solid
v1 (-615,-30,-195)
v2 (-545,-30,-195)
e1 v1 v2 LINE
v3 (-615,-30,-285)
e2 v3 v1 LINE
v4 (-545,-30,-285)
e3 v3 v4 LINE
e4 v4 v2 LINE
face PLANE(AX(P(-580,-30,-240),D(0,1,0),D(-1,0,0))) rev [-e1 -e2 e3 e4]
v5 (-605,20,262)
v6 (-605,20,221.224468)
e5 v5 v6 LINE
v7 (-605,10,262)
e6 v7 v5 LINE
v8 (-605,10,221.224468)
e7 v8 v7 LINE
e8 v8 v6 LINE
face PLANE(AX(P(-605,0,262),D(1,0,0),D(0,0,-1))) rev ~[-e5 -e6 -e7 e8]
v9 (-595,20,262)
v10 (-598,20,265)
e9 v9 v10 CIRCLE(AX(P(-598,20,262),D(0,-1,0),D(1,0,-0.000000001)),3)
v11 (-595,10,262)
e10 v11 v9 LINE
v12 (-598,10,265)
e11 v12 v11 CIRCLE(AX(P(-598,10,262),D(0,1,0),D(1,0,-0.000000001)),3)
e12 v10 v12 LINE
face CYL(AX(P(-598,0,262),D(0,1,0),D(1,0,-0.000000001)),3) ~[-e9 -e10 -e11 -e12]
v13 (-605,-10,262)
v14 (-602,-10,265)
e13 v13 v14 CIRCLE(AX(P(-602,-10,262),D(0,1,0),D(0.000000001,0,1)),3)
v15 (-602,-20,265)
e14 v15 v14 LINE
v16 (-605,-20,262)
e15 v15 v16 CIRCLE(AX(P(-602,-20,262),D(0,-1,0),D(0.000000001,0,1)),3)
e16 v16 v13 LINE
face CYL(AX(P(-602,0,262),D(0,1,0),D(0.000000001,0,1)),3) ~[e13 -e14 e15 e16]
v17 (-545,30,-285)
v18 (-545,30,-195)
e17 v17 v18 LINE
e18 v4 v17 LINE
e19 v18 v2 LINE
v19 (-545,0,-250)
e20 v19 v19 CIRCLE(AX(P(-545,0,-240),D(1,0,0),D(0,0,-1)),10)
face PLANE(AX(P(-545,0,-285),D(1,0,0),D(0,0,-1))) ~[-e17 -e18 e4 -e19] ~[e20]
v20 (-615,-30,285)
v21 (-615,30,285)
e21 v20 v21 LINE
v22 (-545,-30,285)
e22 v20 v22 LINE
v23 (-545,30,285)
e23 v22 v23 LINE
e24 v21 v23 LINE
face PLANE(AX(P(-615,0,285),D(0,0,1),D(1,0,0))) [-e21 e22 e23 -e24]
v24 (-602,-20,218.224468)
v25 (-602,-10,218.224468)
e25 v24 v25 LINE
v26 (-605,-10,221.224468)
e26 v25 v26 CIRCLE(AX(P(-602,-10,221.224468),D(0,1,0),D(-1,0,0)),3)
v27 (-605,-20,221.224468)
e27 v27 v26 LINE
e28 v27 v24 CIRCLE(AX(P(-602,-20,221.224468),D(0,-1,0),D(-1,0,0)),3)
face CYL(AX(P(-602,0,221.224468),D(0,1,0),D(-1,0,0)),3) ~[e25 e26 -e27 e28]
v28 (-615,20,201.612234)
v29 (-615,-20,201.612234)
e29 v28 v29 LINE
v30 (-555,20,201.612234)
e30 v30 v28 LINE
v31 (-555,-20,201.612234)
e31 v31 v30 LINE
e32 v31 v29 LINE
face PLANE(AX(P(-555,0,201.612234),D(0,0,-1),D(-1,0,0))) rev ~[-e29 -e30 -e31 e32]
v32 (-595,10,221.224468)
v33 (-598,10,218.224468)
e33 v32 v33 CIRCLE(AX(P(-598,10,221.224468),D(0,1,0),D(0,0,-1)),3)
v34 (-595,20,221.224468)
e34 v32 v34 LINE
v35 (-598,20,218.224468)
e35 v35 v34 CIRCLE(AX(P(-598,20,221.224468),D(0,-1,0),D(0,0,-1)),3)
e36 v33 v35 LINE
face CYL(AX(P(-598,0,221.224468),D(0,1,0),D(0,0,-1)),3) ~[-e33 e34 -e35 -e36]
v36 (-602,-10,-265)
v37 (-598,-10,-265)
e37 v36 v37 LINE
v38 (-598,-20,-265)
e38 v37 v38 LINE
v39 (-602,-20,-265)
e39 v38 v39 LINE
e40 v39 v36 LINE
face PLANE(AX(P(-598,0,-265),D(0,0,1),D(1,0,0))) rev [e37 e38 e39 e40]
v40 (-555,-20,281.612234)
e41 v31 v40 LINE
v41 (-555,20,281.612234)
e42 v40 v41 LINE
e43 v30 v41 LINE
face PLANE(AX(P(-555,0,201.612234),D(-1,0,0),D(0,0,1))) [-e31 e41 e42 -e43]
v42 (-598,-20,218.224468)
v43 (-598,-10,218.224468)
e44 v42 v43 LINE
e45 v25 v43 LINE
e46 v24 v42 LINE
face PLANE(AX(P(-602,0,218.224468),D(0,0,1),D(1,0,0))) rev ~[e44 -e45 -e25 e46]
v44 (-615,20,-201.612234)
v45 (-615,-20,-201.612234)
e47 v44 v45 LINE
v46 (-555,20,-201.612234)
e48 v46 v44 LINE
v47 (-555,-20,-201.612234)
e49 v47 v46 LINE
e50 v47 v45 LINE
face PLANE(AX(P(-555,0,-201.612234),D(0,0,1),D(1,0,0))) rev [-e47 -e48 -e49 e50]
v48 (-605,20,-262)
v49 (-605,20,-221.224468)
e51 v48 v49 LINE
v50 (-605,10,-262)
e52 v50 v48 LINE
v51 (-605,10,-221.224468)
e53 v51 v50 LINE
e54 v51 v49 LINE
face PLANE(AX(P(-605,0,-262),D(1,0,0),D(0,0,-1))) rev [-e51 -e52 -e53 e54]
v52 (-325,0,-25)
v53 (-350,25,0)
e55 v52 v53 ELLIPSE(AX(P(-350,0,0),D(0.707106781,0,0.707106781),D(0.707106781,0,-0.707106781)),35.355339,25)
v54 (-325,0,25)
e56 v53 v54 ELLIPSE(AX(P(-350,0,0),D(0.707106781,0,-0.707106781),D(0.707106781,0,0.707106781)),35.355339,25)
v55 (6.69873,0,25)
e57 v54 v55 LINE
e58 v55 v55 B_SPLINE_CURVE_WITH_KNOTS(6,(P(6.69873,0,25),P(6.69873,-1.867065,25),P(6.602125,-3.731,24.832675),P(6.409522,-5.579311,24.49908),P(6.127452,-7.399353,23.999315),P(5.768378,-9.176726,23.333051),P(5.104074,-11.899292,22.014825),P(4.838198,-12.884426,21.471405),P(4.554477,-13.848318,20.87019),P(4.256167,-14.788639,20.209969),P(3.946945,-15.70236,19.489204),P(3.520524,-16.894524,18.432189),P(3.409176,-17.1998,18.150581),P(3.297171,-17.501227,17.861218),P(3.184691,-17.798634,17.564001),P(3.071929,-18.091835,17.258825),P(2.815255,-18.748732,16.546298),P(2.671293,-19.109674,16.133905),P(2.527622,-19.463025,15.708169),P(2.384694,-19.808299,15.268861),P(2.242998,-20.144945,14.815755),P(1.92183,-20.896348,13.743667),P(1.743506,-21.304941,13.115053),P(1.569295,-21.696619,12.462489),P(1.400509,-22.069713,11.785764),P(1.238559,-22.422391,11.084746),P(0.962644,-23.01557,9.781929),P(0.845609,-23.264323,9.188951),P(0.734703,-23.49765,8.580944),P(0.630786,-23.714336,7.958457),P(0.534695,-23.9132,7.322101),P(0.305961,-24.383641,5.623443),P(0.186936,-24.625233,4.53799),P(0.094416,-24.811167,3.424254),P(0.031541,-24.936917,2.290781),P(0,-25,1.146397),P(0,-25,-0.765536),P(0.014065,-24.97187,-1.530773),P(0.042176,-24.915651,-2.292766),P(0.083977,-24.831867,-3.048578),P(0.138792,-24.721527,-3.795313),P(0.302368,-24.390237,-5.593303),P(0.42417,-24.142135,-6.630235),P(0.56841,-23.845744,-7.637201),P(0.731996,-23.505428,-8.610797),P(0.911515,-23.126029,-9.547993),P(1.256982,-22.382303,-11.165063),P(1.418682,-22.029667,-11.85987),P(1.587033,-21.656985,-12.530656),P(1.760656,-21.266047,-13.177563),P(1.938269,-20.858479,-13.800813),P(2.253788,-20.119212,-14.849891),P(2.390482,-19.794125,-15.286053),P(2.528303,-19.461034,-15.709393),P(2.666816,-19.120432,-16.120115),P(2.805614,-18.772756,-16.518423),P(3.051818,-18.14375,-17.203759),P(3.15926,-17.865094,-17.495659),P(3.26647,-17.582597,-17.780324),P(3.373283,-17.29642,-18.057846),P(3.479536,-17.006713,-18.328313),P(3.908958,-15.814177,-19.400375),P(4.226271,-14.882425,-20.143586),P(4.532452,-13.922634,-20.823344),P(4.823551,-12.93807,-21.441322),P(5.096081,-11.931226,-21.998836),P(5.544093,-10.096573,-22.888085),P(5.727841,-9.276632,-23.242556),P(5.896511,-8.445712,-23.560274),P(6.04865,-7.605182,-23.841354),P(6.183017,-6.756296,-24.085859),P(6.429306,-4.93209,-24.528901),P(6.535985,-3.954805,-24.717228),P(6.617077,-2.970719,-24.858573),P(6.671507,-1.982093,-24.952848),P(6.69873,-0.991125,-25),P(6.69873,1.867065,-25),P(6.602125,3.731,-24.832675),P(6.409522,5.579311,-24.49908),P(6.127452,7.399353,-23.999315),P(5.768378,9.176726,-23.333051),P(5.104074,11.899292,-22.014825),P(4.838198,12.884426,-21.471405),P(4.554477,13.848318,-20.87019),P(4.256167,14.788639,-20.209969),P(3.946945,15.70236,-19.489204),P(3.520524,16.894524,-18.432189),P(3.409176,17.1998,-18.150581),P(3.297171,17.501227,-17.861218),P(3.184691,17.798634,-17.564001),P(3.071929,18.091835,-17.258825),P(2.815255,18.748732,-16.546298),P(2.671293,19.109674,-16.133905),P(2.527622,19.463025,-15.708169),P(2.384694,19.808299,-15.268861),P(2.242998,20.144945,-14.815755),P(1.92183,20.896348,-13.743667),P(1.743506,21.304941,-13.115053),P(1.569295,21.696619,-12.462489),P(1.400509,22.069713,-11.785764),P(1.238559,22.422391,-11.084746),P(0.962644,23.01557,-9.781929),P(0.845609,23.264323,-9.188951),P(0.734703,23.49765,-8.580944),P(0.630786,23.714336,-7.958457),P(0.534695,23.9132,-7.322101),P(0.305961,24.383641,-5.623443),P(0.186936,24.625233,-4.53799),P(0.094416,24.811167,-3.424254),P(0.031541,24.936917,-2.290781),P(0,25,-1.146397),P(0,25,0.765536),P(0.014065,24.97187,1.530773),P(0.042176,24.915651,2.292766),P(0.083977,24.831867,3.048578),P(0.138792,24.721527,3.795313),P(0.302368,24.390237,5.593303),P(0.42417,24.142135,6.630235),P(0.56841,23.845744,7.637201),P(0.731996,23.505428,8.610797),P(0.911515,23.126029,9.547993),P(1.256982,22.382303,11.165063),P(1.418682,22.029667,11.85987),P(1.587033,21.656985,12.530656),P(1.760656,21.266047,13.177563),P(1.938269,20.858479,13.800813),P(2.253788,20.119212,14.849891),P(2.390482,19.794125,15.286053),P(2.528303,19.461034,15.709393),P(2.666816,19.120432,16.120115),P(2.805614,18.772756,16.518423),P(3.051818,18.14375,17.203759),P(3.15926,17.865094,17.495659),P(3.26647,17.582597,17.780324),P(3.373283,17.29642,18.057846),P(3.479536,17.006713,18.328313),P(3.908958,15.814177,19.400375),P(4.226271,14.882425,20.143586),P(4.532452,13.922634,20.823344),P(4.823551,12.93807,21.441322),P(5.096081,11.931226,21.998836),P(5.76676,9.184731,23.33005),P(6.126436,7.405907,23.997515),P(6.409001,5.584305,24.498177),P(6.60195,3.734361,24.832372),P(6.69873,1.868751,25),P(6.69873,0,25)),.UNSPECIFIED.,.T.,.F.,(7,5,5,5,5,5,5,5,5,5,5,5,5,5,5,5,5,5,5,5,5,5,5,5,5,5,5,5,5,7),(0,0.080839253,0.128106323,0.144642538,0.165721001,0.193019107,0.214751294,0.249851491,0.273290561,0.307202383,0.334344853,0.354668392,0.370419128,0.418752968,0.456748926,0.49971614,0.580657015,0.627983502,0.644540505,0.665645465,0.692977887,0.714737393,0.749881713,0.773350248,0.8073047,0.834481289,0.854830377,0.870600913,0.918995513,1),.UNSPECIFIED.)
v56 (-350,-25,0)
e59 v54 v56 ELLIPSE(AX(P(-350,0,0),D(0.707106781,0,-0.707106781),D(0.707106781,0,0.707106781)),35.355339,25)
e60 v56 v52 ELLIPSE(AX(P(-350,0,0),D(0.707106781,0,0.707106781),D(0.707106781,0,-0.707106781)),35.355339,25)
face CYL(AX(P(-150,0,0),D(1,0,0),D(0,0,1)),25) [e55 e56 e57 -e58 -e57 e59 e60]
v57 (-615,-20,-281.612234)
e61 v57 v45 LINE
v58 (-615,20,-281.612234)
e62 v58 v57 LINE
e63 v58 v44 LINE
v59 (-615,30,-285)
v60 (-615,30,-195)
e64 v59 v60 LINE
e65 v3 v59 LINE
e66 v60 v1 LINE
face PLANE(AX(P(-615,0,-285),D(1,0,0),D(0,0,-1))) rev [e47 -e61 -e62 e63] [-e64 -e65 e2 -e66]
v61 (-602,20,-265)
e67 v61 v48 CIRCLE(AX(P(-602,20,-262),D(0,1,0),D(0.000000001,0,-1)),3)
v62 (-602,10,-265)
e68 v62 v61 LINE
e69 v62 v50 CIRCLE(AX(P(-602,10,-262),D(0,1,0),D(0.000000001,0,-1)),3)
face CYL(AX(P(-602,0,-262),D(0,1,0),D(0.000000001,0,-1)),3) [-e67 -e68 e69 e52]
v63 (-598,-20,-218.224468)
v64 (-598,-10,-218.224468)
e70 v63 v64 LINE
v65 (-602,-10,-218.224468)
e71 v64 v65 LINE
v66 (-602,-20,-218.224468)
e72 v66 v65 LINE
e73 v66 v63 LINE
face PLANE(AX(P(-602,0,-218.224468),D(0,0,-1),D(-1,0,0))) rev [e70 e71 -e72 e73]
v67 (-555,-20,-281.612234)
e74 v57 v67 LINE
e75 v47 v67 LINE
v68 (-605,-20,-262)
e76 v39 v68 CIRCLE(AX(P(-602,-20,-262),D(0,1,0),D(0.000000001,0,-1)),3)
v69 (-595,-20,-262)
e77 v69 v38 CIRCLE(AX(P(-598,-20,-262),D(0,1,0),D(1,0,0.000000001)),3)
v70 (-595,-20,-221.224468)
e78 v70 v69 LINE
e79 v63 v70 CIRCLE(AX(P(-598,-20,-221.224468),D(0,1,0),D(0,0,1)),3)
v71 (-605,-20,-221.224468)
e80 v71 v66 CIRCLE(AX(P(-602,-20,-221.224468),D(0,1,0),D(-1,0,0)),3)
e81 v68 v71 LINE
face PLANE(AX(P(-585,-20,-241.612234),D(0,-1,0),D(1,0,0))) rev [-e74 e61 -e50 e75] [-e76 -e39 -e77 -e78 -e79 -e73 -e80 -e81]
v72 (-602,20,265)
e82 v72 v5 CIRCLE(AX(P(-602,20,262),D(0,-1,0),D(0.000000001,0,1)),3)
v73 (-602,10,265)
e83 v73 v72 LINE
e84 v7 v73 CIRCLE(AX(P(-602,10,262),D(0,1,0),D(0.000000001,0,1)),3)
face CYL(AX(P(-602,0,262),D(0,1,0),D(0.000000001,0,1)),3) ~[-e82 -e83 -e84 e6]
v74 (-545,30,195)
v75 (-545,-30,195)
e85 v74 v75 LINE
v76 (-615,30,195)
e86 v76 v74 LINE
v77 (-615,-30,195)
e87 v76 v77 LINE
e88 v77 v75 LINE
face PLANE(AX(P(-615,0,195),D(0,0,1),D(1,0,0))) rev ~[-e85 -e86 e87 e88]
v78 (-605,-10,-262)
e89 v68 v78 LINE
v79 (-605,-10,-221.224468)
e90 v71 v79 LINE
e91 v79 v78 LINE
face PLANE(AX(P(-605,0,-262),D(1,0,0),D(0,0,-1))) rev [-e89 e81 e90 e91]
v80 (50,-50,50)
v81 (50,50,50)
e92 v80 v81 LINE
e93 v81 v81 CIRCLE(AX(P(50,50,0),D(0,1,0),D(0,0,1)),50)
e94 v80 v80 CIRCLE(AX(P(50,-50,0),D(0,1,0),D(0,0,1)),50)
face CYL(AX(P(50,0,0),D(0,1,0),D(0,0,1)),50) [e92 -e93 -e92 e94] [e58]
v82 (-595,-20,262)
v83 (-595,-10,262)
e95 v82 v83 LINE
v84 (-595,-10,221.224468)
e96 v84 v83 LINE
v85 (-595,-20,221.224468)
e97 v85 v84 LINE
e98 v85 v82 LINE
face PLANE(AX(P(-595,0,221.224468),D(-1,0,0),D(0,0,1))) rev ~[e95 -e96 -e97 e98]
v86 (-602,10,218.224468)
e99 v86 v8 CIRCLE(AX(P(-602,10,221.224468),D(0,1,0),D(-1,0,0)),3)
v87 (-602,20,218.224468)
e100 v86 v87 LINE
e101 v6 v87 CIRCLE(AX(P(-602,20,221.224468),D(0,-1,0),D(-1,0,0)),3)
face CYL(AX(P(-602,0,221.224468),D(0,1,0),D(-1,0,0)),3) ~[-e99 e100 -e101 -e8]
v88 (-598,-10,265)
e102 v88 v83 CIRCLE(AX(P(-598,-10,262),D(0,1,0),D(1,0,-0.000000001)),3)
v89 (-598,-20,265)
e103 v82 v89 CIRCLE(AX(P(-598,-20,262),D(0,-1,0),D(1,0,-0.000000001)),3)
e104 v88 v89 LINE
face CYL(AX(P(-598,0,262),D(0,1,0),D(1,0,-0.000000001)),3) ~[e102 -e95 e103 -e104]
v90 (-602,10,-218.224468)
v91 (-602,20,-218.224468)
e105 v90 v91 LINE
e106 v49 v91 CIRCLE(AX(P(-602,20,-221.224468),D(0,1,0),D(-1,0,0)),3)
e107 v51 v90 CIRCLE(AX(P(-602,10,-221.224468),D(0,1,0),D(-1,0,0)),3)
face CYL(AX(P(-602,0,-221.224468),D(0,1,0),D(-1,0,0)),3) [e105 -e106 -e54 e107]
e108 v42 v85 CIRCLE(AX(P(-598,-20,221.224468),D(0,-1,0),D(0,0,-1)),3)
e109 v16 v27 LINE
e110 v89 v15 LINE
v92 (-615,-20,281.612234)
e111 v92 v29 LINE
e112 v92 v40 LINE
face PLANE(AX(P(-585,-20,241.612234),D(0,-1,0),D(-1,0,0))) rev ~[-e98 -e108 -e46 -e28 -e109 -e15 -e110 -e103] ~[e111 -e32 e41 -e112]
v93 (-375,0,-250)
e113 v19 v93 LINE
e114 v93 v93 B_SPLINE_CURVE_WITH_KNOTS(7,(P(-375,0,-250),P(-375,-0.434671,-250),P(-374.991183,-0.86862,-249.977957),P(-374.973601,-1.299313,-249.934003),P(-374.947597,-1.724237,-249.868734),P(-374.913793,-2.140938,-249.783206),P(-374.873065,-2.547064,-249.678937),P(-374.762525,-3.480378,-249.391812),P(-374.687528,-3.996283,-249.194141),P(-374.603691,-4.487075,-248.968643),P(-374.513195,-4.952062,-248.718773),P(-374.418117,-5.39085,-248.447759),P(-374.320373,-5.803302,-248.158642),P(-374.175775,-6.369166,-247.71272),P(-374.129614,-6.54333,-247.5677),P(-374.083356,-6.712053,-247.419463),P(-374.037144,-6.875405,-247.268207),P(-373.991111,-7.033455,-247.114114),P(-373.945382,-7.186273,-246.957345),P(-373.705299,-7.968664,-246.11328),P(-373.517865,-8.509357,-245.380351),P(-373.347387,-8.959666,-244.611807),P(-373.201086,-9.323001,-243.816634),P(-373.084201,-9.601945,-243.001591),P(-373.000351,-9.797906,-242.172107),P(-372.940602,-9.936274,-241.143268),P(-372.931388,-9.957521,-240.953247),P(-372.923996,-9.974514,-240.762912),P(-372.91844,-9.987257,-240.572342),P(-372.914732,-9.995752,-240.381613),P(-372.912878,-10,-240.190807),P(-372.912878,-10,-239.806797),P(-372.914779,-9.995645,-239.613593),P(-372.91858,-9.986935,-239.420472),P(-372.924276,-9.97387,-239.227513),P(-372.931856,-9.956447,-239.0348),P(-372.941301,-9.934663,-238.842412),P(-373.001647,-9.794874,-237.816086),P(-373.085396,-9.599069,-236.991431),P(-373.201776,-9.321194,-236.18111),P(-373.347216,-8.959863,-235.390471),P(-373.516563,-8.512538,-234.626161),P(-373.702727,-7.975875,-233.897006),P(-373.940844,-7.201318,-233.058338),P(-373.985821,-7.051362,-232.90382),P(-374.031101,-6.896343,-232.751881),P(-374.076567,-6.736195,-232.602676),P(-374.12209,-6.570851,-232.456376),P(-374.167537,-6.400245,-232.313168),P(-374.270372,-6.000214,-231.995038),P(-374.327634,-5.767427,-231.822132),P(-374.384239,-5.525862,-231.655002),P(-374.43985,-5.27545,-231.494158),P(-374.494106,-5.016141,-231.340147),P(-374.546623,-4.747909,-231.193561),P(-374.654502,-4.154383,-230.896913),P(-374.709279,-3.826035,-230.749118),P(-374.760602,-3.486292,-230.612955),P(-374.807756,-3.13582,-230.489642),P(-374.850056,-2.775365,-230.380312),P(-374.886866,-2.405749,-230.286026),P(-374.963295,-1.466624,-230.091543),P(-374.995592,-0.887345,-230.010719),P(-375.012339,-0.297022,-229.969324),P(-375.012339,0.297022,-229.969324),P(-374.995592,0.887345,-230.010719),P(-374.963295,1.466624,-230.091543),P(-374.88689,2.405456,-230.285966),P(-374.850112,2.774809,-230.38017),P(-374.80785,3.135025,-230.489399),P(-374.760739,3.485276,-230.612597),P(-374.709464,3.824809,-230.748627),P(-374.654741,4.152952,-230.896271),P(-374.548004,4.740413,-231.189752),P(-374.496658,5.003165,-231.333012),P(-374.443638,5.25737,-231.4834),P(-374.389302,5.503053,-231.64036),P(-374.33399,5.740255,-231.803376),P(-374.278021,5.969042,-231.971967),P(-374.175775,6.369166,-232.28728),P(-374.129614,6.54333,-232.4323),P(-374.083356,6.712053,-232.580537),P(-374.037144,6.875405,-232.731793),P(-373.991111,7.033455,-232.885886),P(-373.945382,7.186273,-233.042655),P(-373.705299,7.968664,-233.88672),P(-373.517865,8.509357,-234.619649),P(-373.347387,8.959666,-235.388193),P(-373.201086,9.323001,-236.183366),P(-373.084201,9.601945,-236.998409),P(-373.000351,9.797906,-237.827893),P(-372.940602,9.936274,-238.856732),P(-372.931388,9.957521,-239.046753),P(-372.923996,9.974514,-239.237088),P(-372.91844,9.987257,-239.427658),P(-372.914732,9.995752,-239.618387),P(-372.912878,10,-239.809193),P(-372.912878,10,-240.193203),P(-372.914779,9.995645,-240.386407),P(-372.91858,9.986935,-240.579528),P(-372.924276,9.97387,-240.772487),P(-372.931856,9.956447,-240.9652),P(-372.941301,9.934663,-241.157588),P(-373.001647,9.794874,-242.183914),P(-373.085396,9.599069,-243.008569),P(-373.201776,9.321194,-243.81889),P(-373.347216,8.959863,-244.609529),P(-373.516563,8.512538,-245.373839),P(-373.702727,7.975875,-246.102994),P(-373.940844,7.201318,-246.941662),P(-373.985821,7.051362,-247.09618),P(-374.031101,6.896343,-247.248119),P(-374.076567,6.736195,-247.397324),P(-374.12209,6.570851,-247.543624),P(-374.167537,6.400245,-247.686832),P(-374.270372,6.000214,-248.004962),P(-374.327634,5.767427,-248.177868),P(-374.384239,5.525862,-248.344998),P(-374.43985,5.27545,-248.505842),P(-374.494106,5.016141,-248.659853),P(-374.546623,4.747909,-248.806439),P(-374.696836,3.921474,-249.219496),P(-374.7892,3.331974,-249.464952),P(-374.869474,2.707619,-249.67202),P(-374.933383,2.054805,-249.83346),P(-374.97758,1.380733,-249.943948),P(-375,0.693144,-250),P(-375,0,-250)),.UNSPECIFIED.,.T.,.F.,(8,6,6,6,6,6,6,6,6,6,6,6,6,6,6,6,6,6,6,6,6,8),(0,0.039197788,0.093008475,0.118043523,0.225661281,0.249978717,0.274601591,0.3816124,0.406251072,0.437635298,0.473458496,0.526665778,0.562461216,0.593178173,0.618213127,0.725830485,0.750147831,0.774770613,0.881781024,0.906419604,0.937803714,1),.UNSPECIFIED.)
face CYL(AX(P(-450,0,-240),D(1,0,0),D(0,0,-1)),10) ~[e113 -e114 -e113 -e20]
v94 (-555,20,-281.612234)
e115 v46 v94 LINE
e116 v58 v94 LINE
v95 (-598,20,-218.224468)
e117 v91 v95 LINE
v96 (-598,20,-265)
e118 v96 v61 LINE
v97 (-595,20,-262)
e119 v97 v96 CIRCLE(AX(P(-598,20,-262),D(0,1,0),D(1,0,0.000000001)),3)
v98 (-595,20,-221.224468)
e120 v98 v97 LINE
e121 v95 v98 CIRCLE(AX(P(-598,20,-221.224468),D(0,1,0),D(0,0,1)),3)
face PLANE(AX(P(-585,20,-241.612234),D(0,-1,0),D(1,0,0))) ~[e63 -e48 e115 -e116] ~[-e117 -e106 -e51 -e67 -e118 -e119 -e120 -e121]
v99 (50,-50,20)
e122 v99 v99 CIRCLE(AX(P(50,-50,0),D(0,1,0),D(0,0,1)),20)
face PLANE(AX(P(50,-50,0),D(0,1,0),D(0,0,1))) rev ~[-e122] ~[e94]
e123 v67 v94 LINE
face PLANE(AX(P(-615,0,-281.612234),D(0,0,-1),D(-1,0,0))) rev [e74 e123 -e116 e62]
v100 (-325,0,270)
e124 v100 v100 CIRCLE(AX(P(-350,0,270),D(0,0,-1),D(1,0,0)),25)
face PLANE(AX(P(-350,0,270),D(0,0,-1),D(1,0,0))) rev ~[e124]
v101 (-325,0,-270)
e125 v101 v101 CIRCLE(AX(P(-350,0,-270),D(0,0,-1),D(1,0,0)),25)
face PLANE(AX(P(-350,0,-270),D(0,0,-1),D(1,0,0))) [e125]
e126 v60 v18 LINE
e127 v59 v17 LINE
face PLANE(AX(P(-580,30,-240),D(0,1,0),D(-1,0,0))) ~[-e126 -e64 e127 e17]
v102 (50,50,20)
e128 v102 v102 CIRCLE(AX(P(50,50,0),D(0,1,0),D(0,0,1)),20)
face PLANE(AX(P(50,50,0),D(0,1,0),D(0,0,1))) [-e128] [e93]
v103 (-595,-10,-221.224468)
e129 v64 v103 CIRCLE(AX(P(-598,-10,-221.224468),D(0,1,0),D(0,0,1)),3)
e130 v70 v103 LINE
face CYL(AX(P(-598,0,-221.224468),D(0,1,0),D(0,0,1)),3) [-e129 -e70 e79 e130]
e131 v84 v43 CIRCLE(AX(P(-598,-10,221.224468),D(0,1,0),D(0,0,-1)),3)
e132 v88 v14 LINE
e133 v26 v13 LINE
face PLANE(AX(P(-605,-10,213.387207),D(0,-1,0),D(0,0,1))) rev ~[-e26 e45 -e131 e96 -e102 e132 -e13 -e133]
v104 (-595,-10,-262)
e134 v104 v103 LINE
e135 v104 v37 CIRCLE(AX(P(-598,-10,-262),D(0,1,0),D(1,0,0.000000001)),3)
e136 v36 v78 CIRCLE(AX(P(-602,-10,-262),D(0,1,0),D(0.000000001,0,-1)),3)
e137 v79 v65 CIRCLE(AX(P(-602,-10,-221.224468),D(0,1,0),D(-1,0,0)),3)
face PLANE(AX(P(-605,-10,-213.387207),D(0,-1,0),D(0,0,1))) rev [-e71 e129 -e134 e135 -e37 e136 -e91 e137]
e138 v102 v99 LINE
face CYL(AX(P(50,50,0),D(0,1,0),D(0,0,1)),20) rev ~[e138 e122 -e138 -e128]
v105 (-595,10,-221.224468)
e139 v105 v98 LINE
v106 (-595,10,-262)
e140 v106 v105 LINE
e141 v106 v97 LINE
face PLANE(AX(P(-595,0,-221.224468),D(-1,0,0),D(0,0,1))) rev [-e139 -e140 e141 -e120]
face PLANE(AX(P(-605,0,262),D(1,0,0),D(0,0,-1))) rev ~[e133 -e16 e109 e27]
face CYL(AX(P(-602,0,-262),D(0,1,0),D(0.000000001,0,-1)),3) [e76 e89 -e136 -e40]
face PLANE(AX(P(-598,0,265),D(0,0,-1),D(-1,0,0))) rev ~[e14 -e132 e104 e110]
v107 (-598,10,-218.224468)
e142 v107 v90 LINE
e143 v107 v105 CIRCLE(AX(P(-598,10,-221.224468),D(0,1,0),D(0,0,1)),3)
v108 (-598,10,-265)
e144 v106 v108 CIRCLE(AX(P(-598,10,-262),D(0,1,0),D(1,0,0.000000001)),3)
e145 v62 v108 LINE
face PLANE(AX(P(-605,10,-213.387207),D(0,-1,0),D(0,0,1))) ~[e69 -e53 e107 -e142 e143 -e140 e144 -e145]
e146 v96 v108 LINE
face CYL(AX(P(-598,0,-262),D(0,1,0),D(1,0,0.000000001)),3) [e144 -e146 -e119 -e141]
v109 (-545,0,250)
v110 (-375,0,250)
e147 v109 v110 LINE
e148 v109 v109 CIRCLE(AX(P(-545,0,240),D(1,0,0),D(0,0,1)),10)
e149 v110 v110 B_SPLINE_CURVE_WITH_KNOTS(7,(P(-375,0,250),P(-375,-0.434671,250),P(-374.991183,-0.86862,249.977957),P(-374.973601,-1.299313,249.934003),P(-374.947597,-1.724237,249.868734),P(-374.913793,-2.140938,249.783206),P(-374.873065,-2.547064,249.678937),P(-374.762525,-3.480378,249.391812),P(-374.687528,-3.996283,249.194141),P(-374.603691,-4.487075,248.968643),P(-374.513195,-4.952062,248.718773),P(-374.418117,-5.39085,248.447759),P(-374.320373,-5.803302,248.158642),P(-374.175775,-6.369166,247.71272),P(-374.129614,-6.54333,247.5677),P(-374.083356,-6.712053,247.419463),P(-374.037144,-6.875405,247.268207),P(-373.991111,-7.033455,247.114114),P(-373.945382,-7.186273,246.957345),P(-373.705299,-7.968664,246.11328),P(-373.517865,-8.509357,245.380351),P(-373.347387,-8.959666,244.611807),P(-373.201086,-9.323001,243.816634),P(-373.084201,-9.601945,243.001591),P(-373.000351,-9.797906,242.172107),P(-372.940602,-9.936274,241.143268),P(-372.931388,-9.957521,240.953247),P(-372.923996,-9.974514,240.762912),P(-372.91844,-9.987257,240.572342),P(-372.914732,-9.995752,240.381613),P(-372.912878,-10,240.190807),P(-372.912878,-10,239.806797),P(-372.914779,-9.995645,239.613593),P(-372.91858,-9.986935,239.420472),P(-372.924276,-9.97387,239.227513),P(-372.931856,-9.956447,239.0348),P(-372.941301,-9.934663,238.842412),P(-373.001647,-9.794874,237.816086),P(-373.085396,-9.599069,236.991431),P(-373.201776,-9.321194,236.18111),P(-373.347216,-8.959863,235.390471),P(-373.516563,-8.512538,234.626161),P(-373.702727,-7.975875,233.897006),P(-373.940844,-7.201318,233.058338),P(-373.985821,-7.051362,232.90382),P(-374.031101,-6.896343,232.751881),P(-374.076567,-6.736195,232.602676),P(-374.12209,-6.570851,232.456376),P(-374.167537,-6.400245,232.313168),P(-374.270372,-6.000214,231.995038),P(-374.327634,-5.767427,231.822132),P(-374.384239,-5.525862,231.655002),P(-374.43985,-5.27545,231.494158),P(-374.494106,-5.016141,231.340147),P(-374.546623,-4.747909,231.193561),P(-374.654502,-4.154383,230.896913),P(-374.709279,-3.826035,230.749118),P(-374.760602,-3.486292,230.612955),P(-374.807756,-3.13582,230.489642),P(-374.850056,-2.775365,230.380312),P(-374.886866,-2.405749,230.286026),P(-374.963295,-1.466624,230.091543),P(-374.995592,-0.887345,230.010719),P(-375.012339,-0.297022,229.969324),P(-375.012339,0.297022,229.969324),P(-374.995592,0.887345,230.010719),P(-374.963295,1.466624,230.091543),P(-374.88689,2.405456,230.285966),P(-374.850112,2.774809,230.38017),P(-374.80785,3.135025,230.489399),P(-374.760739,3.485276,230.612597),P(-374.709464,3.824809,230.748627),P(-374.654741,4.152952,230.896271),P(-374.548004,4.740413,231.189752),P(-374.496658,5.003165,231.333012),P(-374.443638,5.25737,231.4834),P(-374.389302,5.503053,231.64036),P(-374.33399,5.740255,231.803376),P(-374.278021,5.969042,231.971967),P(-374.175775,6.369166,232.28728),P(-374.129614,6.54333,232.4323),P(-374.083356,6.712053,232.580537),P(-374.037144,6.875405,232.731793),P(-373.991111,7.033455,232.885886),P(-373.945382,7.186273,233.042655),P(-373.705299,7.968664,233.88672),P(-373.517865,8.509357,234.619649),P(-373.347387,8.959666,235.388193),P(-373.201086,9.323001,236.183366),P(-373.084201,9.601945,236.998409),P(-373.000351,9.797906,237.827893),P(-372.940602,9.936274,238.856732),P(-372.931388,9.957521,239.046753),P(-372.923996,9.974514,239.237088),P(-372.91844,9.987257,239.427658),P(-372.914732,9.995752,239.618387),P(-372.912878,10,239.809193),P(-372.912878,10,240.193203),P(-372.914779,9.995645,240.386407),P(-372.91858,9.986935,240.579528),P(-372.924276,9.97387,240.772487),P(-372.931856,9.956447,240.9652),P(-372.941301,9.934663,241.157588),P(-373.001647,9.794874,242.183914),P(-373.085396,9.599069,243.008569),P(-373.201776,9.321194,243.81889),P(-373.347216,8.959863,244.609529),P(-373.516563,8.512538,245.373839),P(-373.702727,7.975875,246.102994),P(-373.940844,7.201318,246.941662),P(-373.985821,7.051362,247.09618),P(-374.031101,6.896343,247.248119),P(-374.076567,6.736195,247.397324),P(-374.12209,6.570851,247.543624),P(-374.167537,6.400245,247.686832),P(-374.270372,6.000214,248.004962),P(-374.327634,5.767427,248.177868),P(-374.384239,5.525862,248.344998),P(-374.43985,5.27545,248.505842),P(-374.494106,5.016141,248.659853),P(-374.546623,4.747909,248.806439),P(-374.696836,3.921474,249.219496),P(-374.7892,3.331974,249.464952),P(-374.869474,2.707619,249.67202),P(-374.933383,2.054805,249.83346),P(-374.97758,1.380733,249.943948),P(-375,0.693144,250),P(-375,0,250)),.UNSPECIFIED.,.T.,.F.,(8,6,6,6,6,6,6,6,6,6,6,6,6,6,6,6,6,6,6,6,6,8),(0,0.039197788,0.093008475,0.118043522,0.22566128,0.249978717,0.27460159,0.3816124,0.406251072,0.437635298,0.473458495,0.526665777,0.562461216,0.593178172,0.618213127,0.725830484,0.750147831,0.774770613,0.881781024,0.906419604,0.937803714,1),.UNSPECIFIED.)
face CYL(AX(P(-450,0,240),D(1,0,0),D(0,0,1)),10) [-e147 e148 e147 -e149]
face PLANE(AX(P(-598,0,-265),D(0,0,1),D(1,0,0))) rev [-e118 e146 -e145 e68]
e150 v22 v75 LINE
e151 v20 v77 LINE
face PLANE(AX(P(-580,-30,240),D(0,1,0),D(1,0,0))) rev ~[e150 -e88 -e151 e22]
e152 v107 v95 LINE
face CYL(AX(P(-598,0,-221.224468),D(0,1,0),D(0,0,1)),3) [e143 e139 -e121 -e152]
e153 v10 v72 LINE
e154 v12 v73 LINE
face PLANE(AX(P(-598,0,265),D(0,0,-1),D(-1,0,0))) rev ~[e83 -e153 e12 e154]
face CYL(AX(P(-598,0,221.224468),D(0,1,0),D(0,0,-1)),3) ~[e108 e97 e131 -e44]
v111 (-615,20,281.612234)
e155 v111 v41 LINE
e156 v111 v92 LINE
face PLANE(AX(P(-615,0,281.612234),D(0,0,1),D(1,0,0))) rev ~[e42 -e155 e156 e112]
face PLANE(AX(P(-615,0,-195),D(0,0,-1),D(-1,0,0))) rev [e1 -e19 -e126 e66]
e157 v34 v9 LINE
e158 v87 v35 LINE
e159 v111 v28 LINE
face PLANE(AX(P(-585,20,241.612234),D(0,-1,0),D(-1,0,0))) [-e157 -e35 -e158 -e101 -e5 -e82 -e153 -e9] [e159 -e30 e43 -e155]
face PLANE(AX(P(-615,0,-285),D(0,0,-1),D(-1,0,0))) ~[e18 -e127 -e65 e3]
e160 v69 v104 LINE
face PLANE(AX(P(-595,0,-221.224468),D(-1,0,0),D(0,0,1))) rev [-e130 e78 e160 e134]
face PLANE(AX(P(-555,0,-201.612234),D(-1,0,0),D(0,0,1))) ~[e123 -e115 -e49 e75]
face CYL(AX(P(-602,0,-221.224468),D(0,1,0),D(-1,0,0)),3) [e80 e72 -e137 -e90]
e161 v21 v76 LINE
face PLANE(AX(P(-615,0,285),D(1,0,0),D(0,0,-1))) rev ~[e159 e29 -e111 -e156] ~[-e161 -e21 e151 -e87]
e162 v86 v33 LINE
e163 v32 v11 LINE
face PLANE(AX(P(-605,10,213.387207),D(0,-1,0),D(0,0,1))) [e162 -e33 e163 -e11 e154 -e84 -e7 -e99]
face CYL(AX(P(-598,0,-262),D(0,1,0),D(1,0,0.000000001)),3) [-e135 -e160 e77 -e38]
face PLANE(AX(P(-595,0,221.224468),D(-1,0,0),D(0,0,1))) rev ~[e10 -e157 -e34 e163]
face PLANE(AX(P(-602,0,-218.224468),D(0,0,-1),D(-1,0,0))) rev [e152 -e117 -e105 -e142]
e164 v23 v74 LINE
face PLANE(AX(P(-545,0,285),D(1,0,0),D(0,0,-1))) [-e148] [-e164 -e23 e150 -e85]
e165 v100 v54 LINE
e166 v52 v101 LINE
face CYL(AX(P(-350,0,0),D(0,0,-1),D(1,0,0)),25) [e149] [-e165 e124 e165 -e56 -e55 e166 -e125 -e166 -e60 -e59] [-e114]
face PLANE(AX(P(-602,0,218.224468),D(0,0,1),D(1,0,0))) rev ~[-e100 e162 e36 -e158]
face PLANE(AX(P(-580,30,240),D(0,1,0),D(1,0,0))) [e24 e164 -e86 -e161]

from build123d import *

# Parameters (mm, degrees)
SKETCH1_W           = 400
SKETCH1_H           = 25
SKETCH2_W           = 25
SKETCH2_H           = 540
SKETCH4_R           = 50
BOSS_EXTRUDE1_DEPTH = 50
SKETCH5_W           = 200
SKETCH5_H           = 10
SKETCH6_R           = 20
CUT_EXTRUDE1_DEPTH  = 621.805927955
SKETCH7_W           = 70
SKETCH7_H           = 90
BOSS_EXTRUDE2_DEPTH = 30
CUT_EXTRUDE2_DEPTH  = 20
SKETCH10_W          = 53.225586826
SKETCH10_H          = 20
CUT_EXTRUDE3_DEPTH  = 40


with BuildPart() as part:
    # Sketch1 → Revolve1 (revolve)
    with BuildSketch(Plane(origin=(0, 0, 0), x_dir=(1, 0, 0), z_dir=(0, 1, 0))):
        with Locations((-150, -12.5)):
            Rectangle(SKETCH1_W, SKETCH1_H)
    revolve(axis=Axis((-350, 0, 0), (1, 0, 0)))

    # Sketch2 → Revolve2 (revolve)
    with BuildSketch(Plane(origin=(0, 0, 0), x_dir=(1, 0, 0), z_dir=(0, 1, 0)), mode=Mode.PRIVATE) as revolve2_sk:
        with Locations((-362.5, 0)):
            Rectangle(SKETCH2_W, SKETCH2_H)
    revolve(revolve2_sk.sketch.rotate(Axis((-350, 0, 270), (0, 0, -1)), 180), axis=Axis((-350, 0, 270), (0, 0, -1)))

    # Sketch4 → Boss-Extrude1 (add, symmetric)
    with BuildSketch(Plane(origin=(0, 0, 0), x_dir=(1, 0, 0), z_dir=(0, 1, 0))):
        with Locations(Location((50, 0, 0), (0, 0, 270))):
            Circle(SKETCH4_R)
    extrude(amount=BOSS_EXTRUDE1_DEPTH, both=True)

    # Sketch5 → Revolve-Thin1 (revolve)
    with BuildSketch(Plane(origin=(0, 0, 0), x_dir=(1, 0, 0), z_dir=(0, 1, 0)), mode=Mode.PRIVATE) as revolve_thin1_sk:
        with Locations((-450, 235)):
            Rectangle(SKETCH5_W, SKETCH5_H)
    revolve_thin1 = revolve(revolve_thin1_sk.sketch.rotate(Axis((-350, 0, -240), (-1, 0, 0)), 180), axis=Axis((-350, 0, -240), (-1, 0, 0)))

    # Mirror2: Revolve-Thin1 across plane
    add(revolve_thin1.mirror(Plane.XY))

    # Sketch6 → Cut-Extrude1 (cut, through all)
    with BuildSketch(Plane(origin=(0, 50, 0), x_dir=(1, 0, 0), z_dir=(0, 1, 0))):
        with Locations(Location((50, 0, 0), (0, 0, 270))):
            Circle(SKETCH6_R)
    extrude(amount=-CUT_EXTRUDE1_DEPTH, mode=Mode.SUBTRACT)

    # Sketch7 → Boss-Extrude2 (add, symmetric)
    with BuildSketch(Plane(origin=(0, 0, 0), x_dir=(1, 0, 0), z_dir=(0, 1, 0))):
        with Locations((-580, -240)):
            Rectangle(SKETCH7_W, SKETCH7_H)
    boss_extrude2 = extrude(amount=BOSS_EXTRUDE2_DEPTH, both=True)

    # Sketch9 → Cut-Extrude2 (cut, symmetric)
    with BuildSketch(Plane(origin=(0, 0, 0), x_dir=(1, 0, 0), z_dir=(0, 1, 0))):
        Polygon((-575, -281.612233807), (-615, -281.612233807), (-615, -201.612233807), (-575, -201.612233807), (-555, -201.612233807), (-555, -281.612233807), align=None)
        with BuildLine():
            Line((-598, -265), (-602, -265))
            ThreePointArc((-602, -265), (-604.121320344, -264.121320344), (-605, -262))
            Line((-605, -262), (-605, -221.224467614))
            ThreePointArc((-605, -221.224467614), (-604.121320344, -219.103147271), (-602, -218.224467614))
            Line((-602, -218.224467614), (-598, -218.224467614))
            ThreePointArc((-598, -218.224467614), (-595.878679656, -219.103147271), (-595, -221.224467614))
            Line((-595, -221.224467614), (-595, -262))
            ThreePointArc((-595, -262), (-595.878679656, -264.121320344), (-598, -265))
        make_face(mode=Mode.SUBTRACT)
    cut_extrude2 = extrude(amount=CUT_EXTRUDE2_DEPTH, both=True, mode=Mode.SUBTRACT)

    # Sketch10 → Cut-Extrude3 (cut)
    with BuildSketch(Plane.ZY.offset(605)):
        with Locations((240, 0)):
            Rectangle(SKETCH10_W, SKETCH10_H)
    cut_extrude3 = extrude(amount=-CUT_EXTRUDE3_DEPTH, mode=Mode.SUBTRACT)

    # Mirror3: Boss-Extrude2, Cut-Extrude2, Cut-Extrude3 across plane
    add(boss_extrude2.mirror(Plane.XY))
    add(cut_extrude2.mirror(Plane.XY), mode=Mode.SUBTRACT)
    add(cut_extrude3.mirror(Plane.XY), mode=Mode.SUBTRACT)


solid = part.part
